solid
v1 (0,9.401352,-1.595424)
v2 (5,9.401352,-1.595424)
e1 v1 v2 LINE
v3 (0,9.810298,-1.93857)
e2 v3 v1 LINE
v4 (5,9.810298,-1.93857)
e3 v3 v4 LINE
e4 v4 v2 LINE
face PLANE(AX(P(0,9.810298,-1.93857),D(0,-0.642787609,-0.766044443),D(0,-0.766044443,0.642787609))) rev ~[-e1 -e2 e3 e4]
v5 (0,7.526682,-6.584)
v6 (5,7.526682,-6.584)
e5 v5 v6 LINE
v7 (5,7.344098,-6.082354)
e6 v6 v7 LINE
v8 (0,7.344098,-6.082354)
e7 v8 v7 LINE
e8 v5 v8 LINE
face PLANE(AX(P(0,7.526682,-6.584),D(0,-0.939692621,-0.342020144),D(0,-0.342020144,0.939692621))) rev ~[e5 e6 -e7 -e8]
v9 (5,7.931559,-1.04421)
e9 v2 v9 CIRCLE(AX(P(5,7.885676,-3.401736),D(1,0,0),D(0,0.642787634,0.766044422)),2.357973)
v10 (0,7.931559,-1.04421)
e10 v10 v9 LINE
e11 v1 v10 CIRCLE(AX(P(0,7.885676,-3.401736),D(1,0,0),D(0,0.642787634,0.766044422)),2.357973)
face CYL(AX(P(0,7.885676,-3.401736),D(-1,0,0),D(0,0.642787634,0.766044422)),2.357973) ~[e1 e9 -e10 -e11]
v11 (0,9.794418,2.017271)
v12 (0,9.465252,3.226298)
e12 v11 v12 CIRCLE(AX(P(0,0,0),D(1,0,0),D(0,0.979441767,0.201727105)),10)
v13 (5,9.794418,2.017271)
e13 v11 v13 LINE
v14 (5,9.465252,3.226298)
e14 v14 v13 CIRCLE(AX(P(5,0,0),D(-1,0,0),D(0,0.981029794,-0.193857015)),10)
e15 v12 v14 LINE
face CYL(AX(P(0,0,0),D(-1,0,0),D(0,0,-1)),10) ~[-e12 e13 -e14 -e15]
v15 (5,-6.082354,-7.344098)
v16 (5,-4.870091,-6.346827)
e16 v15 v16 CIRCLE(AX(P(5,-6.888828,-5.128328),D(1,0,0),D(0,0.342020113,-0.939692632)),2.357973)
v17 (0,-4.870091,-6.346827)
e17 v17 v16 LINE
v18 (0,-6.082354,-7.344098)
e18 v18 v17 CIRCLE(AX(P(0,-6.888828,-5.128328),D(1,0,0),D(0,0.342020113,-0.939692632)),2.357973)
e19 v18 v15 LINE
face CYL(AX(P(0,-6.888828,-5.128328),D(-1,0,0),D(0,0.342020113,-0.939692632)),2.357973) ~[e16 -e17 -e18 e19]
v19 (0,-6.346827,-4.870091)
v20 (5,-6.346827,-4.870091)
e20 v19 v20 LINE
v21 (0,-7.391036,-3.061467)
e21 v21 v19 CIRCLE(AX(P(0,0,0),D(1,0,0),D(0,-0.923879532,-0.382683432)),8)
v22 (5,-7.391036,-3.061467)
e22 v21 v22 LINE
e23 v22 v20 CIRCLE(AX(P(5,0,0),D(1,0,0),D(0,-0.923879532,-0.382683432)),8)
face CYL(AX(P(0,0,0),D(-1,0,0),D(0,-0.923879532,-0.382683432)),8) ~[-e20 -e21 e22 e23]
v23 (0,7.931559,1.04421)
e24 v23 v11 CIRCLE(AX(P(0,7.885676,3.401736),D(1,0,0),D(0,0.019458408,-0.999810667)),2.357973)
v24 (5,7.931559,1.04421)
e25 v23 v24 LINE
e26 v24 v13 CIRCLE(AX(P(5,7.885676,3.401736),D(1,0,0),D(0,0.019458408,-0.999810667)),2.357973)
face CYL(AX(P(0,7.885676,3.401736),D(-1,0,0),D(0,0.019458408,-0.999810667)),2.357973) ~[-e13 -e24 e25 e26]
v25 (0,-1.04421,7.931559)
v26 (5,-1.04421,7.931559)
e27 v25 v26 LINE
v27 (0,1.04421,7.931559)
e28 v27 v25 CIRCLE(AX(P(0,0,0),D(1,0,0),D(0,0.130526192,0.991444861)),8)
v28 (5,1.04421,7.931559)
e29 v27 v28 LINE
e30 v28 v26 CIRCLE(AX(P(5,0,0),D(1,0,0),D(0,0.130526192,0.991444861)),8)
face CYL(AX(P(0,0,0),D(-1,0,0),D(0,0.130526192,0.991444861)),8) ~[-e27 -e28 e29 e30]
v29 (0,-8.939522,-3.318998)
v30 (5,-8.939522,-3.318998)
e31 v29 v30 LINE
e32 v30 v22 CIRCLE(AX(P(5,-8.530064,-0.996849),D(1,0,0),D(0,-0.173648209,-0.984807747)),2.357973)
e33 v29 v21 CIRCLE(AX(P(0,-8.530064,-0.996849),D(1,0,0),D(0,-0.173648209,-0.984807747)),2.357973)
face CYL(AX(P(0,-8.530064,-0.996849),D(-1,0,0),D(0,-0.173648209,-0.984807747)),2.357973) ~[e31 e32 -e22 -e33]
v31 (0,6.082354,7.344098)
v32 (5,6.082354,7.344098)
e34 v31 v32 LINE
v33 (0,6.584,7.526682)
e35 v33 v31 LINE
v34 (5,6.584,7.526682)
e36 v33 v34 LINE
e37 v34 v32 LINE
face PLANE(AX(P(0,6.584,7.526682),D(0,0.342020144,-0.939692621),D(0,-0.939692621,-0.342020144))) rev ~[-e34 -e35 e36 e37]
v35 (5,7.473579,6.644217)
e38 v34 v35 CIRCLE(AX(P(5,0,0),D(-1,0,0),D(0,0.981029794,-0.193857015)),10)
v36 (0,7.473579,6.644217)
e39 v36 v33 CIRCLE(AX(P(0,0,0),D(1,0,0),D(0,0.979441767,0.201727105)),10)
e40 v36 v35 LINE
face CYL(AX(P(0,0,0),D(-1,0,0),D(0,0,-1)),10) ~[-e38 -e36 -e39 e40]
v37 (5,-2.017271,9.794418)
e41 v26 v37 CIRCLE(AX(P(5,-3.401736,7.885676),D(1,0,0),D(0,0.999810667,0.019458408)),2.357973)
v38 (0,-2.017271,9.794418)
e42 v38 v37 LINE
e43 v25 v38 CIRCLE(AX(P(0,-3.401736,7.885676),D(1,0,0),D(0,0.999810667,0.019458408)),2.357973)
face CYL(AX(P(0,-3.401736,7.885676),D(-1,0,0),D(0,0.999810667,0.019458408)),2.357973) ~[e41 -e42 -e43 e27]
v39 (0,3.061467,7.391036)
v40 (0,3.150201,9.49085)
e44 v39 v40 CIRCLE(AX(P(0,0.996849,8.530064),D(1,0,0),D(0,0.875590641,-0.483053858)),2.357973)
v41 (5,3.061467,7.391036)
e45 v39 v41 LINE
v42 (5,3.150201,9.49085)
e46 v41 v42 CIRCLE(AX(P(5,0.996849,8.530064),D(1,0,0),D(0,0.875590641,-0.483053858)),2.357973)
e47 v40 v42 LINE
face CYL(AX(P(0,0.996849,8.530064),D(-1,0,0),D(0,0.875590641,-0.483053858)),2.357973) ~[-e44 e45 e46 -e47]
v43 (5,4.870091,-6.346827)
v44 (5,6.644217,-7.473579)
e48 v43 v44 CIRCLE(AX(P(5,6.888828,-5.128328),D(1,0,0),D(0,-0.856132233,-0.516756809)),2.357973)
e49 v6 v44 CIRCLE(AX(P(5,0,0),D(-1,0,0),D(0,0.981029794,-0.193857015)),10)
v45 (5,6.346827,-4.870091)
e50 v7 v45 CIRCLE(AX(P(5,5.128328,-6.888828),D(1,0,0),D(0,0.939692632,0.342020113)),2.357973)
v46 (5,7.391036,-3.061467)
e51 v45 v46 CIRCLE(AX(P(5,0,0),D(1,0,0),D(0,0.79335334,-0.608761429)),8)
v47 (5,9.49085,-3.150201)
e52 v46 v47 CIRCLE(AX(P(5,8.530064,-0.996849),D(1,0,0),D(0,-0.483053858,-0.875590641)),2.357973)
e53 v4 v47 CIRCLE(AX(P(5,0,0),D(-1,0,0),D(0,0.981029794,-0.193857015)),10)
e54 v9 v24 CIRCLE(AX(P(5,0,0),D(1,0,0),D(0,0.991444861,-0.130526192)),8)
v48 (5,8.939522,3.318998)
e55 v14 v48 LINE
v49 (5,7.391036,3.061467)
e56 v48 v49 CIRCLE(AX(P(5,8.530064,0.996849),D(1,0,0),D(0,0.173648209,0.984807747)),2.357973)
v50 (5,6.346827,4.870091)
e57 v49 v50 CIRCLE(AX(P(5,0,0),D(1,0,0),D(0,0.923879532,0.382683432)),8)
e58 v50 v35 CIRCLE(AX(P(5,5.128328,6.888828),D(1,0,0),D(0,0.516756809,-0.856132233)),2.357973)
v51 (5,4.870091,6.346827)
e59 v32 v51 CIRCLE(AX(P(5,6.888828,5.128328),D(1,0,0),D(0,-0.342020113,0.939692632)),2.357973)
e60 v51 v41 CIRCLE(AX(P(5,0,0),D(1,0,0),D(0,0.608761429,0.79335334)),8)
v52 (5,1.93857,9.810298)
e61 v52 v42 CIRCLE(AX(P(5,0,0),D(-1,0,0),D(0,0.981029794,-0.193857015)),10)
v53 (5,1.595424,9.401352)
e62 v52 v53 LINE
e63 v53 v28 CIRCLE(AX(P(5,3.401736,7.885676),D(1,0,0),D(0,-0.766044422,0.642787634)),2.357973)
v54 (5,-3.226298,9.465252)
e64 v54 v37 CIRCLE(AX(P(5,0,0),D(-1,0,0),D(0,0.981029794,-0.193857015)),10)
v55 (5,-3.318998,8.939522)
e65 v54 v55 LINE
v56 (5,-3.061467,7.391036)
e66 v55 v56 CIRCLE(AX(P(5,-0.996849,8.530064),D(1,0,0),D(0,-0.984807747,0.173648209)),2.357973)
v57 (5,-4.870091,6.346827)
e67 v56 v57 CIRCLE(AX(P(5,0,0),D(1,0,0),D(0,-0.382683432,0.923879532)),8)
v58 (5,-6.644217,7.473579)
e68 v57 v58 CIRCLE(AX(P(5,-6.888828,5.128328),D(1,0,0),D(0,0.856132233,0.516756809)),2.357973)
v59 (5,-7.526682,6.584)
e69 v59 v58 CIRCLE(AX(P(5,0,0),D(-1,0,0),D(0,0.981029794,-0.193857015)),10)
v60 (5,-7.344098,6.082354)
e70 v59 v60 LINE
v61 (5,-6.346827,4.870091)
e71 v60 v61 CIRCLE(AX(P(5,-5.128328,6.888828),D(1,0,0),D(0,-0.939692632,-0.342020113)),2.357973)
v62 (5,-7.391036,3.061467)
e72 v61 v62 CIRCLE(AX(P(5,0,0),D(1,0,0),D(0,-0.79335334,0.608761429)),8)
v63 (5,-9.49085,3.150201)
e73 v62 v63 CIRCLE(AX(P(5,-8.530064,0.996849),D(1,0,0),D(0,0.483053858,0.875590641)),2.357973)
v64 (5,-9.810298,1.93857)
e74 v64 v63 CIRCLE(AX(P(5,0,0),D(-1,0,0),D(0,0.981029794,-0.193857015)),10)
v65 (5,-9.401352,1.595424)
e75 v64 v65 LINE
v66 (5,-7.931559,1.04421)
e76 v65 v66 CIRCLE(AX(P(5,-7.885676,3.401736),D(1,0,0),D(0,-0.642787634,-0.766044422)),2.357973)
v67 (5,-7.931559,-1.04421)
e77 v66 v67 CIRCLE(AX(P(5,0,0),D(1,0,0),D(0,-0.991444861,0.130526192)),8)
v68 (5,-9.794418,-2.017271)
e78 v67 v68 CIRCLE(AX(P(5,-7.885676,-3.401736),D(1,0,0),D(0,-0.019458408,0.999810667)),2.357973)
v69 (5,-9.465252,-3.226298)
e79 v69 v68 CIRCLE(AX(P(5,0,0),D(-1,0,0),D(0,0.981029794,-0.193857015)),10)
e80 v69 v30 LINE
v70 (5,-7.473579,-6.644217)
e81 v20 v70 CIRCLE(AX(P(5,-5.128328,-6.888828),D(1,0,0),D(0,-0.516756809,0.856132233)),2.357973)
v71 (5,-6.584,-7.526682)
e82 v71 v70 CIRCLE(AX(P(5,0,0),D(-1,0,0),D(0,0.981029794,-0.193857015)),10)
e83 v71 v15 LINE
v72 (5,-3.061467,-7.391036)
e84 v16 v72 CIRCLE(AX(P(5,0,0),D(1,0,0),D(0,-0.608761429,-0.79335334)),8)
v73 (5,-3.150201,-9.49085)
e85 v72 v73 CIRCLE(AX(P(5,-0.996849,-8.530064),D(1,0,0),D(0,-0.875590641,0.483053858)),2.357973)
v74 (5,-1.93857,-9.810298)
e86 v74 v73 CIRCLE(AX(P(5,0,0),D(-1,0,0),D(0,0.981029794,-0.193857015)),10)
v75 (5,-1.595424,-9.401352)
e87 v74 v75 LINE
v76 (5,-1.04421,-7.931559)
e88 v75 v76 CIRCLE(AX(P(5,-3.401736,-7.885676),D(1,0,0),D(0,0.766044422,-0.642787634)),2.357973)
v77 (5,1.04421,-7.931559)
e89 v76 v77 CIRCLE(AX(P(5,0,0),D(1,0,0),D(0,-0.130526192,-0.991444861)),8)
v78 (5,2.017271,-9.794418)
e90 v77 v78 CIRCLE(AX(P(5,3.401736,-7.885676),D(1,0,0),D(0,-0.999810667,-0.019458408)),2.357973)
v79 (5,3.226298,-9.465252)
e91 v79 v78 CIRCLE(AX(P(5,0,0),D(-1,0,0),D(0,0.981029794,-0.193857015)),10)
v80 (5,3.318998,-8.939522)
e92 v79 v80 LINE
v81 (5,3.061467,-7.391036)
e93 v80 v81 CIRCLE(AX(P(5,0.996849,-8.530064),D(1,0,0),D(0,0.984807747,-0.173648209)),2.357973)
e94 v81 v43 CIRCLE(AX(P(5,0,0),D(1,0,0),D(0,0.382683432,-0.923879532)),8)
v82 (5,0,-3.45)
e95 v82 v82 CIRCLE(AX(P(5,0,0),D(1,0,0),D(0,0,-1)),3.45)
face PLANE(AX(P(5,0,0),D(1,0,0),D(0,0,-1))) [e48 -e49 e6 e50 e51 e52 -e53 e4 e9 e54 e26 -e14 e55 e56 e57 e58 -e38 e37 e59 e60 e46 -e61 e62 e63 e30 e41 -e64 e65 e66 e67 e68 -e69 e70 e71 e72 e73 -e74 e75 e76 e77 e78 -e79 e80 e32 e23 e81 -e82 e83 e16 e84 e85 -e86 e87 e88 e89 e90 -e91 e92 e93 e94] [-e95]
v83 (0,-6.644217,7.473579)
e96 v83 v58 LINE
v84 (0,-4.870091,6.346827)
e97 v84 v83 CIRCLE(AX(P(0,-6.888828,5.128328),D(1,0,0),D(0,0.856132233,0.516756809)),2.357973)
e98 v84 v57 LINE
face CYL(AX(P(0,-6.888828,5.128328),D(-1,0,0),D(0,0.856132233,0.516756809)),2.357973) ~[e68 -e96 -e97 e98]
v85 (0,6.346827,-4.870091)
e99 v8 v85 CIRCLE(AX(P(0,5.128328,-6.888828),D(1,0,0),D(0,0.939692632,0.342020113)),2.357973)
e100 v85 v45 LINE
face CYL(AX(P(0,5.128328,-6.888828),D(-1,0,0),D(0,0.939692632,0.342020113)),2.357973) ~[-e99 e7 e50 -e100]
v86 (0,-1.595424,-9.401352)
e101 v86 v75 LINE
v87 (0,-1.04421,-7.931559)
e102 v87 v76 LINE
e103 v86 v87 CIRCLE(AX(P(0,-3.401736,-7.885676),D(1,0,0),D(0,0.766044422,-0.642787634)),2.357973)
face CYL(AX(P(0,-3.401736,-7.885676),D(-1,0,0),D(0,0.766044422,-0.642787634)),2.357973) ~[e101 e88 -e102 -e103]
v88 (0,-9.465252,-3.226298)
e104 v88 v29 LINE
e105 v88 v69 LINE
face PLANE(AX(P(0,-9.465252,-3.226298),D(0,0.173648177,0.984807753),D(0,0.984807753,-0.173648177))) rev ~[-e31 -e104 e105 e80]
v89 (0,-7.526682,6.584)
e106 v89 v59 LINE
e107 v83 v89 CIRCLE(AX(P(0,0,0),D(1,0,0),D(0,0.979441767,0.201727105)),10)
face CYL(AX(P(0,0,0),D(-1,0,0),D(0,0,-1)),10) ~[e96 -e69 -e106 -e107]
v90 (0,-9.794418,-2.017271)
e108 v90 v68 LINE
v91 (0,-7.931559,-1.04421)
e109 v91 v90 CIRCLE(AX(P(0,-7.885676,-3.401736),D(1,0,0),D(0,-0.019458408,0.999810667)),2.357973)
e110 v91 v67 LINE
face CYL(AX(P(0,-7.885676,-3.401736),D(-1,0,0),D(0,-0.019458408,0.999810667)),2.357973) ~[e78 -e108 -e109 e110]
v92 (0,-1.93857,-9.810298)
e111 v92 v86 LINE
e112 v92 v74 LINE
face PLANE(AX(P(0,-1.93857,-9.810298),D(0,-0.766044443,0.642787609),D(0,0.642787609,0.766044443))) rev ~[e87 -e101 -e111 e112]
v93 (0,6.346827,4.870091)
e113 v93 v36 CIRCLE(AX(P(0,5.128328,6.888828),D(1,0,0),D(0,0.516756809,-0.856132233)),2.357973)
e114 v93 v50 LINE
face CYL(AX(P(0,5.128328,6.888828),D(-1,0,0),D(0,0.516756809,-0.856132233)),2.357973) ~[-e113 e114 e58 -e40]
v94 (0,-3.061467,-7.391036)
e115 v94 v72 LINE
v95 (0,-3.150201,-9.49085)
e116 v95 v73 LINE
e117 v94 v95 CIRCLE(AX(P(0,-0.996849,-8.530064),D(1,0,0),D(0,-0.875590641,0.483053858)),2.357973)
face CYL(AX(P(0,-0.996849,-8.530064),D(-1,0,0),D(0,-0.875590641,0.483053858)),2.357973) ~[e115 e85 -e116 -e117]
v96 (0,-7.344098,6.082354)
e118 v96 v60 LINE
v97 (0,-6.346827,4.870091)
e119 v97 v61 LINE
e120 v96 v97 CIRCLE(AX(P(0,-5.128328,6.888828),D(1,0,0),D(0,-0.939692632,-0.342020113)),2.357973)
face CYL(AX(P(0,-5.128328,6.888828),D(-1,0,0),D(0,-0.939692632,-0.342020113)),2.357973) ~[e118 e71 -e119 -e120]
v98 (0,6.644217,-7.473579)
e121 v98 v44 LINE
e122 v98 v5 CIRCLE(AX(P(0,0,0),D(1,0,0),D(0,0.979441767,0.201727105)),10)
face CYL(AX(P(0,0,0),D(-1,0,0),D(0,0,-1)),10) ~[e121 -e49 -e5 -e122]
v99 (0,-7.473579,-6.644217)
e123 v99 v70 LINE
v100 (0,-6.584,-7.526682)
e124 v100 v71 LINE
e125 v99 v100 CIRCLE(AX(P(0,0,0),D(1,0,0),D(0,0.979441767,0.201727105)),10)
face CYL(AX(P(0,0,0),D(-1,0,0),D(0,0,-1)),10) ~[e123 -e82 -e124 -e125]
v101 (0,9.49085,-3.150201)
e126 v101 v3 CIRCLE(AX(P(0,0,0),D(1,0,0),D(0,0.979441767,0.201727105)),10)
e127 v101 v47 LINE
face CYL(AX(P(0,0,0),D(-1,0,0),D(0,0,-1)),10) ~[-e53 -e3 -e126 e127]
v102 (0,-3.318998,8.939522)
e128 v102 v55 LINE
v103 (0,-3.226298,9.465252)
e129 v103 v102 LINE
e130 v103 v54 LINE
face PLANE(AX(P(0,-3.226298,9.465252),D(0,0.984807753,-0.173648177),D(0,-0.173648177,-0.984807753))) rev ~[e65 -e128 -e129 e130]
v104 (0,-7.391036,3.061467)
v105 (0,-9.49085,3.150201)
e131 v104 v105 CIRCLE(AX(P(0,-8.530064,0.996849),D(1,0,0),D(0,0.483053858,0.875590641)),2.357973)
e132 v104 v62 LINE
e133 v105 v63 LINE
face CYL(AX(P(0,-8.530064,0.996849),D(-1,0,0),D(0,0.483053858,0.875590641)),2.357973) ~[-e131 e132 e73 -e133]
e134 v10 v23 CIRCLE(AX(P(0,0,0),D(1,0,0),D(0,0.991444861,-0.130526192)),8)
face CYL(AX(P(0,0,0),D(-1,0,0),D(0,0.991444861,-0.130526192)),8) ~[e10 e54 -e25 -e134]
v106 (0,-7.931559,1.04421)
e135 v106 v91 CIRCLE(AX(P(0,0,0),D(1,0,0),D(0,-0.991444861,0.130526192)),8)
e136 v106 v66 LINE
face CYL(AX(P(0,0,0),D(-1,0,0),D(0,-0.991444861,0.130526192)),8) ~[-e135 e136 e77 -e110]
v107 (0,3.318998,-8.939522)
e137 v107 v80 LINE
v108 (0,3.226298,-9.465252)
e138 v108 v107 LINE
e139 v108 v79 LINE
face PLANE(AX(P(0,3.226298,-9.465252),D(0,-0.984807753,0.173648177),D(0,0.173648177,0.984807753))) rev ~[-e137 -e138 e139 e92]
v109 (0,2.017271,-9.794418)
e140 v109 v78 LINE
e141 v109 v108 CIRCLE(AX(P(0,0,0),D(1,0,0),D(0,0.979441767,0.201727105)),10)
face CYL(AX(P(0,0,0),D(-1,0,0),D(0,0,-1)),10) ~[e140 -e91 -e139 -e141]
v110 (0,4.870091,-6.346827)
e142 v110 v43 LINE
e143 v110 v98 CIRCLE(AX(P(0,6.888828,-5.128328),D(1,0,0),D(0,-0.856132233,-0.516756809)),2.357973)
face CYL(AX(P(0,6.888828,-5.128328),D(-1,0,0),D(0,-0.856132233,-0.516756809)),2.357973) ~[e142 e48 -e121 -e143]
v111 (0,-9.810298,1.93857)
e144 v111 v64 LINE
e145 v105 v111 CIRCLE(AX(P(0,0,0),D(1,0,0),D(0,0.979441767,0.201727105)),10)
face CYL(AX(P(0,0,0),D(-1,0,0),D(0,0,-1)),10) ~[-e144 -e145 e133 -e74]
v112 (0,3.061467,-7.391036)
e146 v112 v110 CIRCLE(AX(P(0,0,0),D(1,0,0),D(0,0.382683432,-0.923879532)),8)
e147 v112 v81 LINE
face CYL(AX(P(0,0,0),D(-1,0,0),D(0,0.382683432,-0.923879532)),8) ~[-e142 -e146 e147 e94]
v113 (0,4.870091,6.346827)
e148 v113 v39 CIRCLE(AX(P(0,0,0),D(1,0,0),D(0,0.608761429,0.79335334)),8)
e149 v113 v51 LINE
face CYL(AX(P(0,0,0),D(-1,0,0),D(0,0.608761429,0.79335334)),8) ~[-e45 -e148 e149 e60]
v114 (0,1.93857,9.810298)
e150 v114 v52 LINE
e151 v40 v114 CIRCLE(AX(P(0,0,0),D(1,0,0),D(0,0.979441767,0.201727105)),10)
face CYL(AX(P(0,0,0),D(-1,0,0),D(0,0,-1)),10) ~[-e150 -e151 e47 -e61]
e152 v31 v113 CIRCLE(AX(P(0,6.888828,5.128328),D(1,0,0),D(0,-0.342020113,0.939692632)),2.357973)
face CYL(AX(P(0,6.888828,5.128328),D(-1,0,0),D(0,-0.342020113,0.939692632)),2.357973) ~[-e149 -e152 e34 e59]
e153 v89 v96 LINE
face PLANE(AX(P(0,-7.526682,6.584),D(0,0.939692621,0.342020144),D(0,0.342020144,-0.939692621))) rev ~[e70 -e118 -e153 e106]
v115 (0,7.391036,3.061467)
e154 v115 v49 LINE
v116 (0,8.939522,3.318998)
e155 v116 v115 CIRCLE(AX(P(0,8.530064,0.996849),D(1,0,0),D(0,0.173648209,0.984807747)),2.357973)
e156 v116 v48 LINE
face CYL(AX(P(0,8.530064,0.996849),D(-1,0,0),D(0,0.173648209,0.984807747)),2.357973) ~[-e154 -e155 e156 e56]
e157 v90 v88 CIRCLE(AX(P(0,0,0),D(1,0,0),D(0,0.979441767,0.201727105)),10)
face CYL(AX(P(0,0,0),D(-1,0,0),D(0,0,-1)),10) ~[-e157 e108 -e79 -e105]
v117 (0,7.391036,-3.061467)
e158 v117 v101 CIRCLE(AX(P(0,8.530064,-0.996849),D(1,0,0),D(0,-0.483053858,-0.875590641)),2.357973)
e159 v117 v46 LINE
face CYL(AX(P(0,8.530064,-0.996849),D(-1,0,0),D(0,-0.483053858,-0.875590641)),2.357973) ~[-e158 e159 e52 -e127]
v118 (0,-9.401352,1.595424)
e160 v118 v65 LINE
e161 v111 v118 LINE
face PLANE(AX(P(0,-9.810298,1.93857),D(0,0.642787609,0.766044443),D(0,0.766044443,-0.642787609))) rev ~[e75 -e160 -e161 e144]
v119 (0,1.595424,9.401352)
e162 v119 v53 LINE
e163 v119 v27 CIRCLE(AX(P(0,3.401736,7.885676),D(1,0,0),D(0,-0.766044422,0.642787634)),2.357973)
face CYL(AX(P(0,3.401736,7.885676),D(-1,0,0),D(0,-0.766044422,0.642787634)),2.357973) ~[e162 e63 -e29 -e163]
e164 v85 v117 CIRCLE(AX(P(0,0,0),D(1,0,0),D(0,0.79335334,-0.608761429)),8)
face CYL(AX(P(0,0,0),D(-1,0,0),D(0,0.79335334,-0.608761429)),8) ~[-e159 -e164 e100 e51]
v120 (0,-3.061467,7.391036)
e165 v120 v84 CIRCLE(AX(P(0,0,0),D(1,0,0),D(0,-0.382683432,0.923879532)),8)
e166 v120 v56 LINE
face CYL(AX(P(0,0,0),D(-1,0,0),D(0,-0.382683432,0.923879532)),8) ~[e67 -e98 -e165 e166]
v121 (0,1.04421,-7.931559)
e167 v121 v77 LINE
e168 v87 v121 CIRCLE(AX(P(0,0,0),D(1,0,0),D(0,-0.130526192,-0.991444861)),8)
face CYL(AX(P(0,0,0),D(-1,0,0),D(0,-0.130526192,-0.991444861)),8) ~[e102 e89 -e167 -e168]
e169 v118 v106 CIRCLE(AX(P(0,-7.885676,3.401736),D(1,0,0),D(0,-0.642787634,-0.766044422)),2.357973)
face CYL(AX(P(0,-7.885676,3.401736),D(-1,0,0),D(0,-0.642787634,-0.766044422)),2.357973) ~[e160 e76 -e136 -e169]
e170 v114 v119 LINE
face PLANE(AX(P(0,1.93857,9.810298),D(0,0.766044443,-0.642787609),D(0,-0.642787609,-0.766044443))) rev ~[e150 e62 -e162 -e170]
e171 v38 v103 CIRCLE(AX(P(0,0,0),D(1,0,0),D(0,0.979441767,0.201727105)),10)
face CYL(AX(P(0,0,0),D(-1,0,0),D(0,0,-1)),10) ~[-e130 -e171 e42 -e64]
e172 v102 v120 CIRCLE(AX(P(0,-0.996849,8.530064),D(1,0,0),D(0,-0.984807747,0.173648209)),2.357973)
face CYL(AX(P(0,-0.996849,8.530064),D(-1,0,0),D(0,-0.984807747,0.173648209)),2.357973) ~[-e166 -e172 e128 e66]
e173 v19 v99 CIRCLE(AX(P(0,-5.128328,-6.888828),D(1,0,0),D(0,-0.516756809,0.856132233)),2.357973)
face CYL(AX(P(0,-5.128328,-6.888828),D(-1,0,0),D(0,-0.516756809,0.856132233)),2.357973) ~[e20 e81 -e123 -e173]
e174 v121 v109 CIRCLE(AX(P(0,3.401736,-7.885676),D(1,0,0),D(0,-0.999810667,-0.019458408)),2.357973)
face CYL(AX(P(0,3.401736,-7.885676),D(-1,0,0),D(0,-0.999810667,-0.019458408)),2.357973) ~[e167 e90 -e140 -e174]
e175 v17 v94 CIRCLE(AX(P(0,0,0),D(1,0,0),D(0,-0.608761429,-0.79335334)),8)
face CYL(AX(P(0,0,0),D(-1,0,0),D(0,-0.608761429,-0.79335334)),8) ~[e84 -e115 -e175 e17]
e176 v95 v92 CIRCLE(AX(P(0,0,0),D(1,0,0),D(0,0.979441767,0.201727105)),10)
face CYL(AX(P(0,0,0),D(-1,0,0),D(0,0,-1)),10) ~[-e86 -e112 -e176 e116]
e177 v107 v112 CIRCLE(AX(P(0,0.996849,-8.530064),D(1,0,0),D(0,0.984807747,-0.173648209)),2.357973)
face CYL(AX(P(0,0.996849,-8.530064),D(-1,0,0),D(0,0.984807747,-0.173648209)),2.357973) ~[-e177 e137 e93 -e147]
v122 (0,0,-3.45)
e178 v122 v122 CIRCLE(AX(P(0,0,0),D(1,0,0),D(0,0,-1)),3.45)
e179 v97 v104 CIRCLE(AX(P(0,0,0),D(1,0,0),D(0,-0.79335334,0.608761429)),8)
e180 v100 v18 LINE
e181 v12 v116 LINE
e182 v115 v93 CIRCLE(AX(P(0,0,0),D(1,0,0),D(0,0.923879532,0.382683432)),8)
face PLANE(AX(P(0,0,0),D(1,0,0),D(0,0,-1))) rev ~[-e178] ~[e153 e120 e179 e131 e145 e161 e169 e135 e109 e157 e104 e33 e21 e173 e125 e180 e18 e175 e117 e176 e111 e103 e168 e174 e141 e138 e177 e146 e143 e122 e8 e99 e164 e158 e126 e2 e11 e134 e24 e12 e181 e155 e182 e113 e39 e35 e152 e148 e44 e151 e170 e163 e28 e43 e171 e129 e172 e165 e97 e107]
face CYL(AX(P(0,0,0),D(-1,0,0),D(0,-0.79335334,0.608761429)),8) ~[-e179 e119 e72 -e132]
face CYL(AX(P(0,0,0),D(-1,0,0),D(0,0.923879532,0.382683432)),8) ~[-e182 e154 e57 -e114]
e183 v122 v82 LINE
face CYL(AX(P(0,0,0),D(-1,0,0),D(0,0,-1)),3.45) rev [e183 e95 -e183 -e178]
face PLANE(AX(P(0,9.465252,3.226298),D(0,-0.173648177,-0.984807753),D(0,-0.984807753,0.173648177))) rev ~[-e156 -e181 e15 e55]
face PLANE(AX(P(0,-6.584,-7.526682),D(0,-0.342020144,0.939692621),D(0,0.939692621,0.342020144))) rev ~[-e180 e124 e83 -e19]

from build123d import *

# Parameters (mm, degrees)
SKETCH3_R           = 10
BOSS_EXTRUDE1_DEPTH = 5
CUT_EXTRUDE1_DEPTH  = 5
CIRPATTERN1_COUNT   = 12
SKETCH3_3_R         = 3.45
CUT_EXTRUDE3_DEPTH  = 5


with BuildPart() as part:
    # Sketch3 → Boss-Extrude1 (new body)
    with BuildSketch(Plane(origin=(0, 0, 0), x_dir=(0, 0, -1), z_dir=(1, 0, 0))):
        Circle(SKETCH3_R)
    extrude(amount=BOSS_EXTRUDE1_DEPTH)

    # Gear_Profile → Cut-Extrude1 (cut)
    with BuildSketch(Plane.ZY):
        with BuildLine():
            ThreePointArc((-1.595423995, 9.401352278), (-1.193917878, 8.71367126), (-1.044209538, 7.931558891))
            ThreePointArc((-1.044209538, 7.931558891), (0, 8), (1.044209538, 7.931558891))
            ThreePointArc((1.044209538, 7.931558891), (1.311715504, 8.977395553), (2.017271047, 9.794417671))
            ThreePointArc((2.017271047, 9.794417671), (0.040143535, 9.999919425), (-1.938570153, 9.810297945))
            Line((-1.938570153, 9.810297945), (-1.595423995, 9.401352278))
        make_face()
    cut_extrude1 = extrude(amount=-CUT_EXTRUDE1_DEPTH, mode=Mode.SUBTRACT)

    # CirPattern1: Cut-Extrude1 ×12 about axis
    cirpattern1_axis = Axis((5, 0, 0), (-1, 0, 0))
    for i in range(1, CIRPATTERN1_COUNT):
        add(cut_extrude1.rotate(cirpattern1_axis, i * 360 / CIRPATTERN1_COUNT), mode=Mode.SUBTRACT)

    # Sketch3<3> → Cut-Extrude3 (cut)
    with BuildSketch(Plane(origin=(0, 0, 0), x_dir=(0, 0, -1), z_dir=(1, 0, 0))):
        Circle(SKETCH3_3_R)
    extrude(amount=CUT_EXTRUDE3_DEPTH, mode=Mode.SUBTRACT)


solid = part.part
